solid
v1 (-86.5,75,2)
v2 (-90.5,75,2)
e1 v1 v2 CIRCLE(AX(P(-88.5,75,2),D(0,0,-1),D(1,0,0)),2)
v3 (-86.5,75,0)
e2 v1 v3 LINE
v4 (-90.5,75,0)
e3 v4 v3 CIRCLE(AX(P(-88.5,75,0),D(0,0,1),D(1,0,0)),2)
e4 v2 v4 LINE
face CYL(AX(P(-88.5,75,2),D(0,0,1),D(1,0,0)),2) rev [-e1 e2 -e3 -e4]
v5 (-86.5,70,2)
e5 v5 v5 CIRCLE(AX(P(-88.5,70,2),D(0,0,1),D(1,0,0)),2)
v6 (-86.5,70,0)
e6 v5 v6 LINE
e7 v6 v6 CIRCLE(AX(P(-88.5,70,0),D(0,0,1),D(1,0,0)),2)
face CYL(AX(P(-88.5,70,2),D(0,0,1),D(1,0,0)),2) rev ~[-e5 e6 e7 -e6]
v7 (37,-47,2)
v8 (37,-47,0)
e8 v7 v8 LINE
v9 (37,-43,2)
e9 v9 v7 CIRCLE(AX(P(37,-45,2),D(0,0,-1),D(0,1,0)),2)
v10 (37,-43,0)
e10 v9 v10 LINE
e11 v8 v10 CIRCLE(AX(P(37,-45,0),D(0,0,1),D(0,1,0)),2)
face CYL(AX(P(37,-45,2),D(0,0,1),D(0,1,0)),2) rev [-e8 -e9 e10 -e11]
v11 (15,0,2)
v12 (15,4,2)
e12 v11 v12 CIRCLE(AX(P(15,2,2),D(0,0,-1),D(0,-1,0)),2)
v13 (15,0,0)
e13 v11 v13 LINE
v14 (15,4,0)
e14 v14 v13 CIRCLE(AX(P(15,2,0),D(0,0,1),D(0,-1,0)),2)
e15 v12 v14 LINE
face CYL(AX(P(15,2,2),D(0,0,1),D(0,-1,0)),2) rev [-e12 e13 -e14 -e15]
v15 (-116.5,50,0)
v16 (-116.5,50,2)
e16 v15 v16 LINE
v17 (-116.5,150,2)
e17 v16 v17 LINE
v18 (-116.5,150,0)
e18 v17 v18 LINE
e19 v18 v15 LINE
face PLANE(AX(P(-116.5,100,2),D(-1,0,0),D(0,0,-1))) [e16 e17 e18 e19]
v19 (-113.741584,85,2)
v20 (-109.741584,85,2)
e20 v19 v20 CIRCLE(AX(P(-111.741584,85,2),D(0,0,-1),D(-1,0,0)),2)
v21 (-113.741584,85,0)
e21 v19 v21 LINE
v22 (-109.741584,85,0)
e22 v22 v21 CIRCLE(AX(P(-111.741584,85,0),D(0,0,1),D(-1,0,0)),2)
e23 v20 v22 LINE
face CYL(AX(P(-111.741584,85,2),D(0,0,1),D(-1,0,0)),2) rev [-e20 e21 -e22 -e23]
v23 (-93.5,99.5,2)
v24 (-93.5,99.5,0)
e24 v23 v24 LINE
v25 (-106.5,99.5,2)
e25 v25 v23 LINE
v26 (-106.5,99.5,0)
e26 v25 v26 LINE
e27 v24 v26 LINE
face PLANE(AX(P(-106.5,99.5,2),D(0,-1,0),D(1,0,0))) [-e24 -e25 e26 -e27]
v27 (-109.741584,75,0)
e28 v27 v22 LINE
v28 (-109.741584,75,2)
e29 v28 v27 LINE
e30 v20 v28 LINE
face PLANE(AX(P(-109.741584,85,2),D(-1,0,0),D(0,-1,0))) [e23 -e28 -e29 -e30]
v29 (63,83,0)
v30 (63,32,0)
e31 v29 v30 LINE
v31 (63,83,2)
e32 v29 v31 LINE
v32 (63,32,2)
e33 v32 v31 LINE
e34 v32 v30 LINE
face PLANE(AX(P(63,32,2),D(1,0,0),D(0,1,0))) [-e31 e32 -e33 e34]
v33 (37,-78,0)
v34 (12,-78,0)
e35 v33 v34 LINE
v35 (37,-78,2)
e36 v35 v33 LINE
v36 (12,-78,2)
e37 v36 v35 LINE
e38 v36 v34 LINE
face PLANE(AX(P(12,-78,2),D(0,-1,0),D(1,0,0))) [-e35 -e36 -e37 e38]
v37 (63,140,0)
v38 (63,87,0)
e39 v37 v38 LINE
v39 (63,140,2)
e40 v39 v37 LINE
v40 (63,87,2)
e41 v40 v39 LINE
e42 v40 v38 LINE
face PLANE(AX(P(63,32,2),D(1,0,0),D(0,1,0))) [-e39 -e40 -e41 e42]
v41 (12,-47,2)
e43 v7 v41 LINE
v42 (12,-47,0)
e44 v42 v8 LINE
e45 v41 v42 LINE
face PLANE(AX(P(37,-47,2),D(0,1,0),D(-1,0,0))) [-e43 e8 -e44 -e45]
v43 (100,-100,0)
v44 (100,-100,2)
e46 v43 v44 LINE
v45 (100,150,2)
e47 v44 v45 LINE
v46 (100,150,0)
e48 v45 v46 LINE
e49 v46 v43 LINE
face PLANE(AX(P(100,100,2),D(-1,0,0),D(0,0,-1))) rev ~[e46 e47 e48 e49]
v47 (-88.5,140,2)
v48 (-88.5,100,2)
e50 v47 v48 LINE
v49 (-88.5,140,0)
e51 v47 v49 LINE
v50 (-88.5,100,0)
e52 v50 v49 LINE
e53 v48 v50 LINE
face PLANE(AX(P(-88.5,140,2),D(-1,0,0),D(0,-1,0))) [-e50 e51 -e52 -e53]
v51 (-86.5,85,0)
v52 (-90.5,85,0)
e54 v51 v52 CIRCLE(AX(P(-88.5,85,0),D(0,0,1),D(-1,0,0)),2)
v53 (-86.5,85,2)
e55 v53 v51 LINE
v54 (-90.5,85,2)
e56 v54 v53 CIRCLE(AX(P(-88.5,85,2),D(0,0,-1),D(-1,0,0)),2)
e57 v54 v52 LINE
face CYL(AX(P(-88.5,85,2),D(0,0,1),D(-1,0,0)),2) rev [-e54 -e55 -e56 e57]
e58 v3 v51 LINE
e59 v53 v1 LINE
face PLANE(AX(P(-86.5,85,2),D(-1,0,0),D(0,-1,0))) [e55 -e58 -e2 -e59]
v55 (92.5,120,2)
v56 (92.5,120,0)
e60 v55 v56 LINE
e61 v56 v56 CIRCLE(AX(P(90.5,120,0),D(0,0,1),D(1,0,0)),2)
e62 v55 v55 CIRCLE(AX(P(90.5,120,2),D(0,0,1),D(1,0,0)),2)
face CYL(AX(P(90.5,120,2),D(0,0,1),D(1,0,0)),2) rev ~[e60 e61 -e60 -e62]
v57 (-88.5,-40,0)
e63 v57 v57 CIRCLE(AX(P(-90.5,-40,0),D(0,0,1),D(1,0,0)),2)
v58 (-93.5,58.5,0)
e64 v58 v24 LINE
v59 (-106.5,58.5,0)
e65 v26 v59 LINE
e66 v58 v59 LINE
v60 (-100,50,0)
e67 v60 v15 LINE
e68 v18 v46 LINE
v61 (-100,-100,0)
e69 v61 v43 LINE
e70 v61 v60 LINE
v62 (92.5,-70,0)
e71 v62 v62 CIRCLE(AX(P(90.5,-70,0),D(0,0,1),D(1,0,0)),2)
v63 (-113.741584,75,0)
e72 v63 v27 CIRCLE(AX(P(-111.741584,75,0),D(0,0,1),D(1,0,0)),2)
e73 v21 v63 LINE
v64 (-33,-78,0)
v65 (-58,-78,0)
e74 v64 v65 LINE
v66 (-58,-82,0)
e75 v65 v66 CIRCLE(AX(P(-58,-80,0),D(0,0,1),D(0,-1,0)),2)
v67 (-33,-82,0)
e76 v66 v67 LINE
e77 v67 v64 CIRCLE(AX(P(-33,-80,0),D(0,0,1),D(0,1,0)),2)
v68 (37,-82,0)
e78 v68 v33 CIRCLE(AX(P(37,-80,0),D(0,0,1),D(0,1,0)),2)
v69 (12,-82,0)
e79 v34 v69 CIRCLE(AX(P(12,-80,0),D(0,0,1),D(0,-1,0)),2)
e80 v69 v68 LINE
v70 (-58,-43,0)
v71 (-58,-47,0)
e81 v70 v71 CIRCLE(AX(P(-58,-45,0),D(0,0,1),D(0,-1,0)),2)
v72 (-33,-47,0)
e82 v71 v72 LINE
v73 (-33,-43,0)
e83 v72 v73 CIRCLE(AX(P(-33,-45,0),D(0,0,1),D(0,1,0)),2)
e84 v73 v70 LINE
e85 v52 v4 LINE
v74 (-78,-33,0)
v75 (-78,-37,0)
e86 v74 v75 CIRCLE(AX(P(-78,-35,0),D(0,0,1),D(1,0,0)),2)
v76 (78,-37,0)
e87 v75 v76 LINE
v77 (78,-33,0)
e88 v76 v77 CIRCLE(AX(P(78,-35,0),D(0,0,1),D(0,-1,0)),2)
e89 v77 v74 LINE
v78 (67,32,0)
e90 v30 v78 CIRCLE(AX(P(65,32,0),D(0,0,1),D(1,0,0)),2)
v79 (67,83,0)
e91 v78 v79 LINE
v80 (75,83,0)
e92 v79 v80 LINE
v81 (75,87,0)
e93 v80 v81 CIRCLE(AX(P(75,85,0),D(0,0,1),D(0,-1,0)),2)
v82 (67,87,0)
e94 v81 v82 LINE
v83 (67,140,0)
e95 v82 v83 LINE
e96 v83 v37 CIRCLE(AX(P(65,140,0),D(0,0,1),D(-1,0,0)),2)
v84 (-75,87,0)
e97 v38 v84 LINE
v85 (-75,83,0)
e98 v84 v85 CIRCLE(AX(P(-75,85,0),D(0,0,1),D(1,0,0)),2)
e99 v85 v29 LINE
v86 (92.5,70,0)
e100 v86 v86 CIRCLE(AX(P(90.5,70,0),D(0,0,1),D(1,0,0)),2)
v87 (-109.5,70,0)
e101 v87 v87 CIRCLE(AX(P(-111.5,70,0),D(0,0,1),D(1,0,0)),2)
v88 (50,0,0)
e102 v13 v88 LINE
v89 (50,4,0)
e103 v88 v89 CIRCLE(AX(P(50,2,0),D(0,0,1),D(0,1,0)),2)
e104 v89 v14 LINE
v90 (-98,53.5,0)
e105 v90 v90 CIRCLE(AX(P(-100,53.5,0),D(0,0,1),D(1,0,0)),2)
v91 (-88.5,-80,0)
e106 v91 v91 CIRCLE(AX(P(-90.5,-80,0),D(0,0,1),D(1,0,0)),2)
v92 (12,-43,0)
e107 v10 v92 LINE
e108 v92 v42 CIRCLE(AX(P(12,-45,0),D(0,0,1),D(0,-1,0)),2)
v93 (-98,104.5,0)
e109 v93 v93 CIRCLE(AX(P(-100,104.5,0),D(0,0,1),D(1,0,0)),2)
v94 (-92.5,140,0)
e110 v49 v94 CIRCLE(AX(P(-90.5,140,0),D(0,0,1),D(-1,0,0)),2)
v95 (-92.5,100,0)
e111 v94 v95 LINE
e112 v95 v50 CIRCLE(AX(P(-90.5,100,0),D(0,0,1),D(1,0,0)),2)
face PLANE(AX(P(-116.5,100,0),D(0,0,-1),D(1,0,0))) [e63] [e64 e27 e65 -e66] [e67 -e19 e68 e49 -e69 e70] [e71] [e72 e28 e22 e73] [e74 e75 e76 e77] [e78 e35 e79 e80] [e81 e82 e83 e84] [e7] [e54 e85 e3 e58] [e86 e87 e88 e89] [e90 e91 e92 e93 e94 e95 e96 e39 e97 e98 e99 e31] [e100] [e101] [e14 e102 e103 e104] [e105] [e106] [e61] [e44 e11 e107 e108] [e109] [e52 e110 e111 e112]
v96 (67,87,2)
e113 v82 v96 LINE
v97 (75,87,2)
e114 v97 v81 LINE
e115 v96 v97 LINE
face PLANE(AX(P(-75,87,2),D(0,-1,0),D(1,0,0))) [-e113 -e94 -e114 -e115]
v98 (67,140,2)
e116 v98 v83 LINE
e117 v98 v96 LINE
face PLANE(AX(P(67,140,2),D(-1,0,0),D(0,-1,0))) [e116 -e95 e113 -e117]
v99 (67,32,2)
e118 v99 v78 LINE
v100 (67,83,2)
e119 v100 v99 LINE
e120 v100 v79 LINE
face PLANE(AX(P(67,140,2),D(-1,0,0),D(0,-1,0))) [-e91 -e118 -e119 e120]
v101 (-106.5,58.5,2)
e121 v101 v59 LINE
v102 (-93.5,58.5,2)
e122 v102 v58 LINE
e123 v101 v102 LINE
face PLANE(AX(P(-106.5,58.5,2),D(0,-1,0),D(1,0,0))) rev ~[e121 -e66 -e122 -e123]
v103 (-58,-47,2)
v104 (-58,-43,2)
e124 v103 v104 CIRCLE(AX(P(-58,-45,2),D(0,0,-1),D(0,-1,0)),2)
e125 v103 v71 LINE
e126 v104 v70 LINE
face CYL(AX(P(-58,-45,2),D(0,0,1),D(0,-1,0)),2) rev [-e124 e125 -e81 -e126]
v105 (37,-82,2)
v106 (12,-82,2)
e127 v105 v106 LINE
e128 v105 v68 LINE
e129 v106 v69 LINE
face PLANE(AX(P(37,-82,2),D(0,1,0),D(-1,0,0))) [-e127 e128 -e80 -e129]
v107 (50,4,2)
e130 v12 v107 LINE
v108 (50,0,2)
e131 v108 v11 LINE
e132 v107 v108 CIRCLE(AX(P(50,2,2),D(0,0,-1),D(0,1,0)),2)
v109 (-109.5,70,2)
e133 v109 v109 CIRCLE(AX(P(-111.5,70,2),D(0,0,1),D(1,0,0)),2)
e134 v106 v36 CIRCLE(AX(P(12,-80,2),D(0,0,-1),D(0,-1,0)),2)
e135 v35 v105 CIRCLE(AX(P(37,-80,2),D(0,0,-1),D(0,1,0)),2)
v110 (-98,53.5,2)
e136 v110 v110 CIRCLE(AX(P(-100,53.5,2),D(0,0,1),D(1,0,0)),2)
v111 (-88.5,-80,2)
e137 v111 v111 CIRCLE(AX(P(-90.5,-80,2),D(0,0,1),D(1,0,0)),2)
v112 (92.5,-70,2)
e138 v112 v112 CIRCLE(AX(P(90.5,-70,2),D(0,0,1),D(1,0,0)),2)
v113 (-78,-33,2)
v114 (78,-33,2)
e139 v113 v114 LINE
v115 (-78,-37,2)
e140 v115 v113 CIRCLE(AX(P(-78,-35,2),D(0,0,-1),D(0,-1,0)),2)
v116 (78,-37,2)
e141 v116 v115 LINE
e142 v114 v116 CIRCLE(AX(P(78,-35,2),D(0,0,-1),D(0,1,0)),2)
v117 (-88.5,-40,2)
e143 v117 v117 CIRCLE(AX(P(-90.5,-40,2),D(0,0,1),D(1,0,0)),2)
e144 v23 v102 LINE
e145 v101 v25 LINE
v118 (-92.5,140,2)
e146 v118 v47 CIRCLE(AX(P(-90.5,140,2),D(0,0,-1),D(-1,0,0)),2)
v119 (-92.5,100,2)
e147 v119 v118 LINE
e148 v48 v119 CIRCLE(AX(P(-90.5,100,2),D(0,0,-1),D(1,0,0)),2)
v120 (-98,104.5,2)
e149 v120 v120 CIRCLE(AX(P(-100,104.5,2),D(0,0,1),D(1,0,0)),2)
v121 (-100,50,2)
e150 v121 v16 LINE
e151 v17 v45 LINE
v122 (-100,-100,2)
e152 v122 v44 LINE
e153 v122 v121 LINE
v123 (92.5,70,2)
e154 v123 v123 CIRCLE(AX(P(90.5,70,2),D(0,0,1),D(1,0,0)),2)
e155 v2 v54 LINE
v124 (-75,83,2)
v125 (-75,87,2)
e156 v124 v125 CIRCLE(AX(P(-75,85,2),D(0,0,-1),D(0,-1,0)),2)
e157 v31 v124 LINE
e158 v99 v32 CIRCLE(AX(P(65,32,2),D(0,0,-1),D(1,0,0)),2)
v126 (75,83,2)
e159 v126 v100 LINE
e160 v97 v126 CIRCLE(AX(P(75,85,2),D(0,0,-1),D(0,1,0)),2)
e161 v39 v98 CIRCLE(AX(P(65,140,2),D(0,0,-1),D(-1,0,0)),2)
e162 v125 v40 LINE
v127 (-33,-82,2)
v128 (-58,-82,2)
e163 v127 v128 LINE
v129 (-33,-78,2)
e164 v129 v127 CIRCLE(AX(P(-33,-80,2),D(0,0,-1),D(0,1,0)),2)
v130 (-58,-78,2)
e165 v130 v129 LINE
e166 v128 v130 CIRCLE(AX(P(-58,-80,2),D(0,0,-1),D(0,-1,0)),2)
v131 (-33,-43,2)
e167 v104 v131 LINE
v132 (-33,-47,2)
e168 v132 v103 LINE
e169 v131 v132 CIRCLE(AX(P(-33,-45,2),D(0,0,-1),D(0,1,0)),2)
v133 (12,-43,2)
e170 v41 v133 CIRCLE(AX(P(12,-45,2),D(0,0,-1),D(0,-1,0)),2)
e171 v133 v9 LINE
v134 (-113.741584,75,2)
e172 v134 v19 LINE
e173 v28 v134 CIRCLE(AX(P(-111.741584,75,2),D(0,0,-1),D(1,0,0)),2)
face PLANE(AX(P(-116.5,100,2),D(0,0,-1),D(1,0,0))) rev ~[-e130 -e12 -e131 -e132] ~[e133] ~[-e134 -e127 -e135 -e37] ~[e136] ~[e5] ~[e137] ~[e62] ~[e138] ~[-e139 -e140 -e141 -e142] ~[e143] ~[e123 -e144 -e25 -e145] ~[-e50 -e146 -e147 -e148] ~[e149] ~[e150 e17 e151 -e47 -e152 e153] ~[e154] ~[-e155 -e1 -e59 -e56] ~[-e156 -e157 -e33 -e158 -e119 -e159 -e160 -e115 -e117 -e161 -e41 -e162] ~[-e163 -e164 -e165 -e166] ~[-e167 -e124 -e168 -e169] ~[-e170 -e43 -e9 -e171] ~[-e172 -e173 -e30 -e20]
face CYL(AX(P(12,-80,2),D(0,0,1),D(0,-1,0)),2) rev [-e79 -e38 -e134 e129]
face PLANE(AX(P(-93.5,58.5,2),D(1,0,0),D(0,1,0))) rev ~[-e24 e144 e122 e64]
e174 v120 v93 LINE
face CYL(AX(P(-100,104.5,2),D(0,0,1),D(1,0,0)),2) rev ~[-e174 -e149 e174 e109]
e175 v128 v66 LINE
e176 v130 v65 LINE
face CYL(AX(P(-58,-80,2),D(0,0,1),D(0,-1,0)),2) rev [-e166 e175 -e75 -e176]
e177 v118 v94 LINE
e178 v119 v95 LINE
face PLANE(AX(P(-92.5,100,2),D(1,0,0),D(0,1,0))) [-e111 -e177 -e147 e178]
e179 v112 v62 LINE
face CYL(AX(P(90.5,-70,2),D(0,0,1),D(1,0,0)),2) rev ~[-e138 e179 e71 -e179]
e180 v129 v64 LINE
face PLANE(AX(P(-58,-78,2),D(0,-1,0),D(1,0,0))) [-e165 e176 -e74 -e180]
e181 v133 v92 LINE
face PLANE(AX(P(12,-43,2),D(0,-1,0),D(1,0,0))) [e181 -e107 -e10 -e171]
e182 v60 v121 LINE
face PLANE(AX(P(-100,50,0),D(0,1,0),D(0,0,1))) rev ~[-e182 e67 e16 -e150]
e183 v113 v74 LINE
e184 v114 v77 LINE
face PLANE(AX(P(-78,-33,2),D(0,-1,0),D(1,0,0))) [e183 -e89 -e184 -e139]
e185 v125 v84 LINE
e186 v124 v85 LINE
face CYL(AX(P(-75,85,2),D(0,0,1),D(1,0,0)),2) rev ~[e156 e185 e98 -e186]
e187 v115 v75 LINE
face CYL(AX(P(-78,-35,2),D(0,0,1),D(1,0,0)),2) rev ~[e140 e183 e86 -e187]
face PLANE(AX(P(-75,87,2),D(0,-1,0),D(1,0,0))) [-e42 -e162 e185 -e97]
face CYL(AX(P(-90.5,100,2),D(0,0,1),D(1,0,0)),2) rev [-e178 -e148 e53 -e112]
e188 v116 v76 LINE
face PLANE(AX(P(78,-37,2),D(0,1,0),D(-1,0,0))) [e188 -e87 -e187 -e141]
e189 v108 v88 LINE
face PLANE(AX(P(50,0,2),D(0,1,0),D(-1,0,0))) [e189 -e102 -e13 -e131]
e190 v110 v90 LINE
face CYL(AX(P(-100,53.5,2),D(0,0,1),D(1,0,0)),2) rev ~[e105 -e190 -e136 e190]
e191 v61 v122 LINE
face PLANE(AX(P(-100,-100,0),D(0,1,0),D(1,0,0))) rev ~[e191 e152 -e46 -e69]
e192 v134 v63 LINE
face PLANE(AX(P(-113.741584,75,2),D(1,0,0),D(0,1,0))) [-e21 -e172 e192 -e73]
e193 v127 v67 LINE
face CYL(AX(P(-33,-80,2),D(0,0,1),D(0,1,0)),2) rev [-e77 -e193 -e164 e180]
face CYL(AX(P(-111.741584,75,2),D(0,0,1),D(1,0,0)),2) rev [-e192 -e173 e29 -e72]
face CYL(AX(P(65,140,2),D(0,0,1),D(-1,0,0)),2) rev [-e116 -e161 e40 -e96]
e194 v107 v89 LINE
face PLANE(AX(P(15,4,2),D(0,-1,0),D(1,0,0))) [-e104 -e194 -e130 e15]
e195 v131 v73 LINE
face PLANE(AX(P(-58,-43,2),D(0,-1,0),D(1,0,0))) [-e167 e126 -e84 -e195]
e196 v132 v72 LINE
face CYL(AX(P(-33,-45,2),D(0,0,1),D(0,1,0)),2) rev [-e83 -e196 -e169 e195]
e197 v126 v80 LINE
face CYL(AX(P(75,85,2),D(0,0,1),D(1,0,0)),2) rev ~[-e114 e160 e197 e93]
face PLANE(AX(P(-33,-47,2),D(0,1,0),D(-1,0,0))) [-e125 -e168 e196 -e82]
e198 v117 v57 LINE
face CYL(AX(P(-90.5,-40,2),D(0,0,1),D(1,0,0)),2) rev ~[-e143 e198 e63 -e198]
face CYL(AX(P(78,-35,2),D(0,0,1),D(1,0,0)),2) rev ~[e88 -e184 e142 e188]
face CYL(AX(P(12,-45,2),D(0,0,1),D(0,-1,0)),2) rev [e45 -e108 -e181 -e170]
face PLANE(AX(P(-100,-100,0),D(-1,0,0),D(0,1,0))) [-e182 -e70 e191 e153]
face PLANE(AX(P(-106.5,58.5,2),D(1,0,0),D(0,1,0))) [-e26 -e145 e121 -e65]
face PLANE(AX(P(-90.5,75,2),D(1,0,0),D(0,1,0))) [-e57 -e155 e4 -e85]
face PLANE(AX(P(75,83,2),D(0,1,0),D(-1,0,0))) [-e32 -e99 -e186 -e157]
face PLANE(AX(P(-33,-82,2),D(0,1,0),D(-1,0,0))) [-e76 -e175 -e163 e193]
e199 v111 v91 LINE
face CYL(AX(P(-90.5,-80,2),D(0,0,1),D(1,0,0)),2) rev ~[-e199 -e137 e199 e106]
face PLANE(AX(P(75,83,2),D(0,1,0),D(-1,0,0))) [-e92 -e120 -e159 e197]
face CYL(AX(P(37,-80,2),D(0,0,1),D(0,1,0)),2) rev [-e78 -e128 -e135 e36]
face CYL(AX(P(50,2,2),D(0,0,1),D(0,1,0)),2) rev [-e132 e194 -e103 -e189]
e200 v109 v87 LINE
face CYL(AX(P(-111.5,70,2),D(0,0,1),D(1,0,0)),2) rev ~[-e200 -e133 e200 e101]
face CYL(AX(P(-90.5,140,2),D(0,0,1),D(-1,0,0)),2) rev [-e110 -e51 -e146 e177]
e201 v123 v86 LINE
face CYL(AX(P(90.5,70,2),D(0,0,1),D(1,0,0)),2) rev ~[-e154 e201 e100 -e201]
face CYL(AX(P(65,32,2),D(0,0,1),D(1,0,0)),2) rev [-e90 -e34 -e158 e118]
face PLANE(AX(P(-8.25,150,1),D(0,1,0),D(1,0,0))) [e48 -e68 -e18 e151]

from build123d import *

# Parameters (mm, degrees)
SKETCH1_W           = 200
SKETCH1_H           = 200
BOSS_EXTRUDE1_DEPTH = 2
SKETCH2_R           = 2
CUT_EXTRUDE1_DEPTH  = 13
SKETCH3_R           = 2
CUT_EXTRUDE2_DEPTH  = 142.435497666
SKETCH4_R           = 2
CUT_EXTRUDE3_DEPTH  = 13
SKETCH5_W           = 2
SKETCH5_H           = 50
BOSS_EXTRUDE2_DEPTH = 16.5
SKETCH6_R           = 2
SKETCH6_W           = 13
SKETCH6_H           = 15
CUT_EXTRUDE4_DEPTH  = 154.545595834
SKETCH7_R           = 2
CUT_EXTRUDE5_DEPTH  = 154.545595834
CUT_EXTRUDE6_DEPTH  = 10
SKETCH11_W          = 216.5
SKETCH11_H          = 2
BOSS_EXTRUDE3_DEPTH = 50
CUT_EXTRUDE8_DEPTH  = 10
CUT_EXTRUDE9_DEPTH  = 10
CUT_EXTRUDE10_DEPTH = 10
SKETCH17_R          = 2
CUT_EXTRUDE11_DEPTH = 10
SKETCH18_R          = 2
CUT_EXTRUDE12_DEPTH = 10
CUT_EXTRUDE13_DEPTH = 10
CUT_EXTRUDE14_DEPTH = 10
CUT_EXTRUDE15_DEPTH = 10
SKETCH22_R          = 2
CUT_EXTRUDE16_DEPTH = 10
SKETCH23_W          = 13
SKETCH23_H          = 26
CUT_EXTRUDE17_DEPTH = 10
CUT_EXTRUDE20_DEPTH = 10


with BuildPart() as part:
    # Sketch1 → Boss-Extrude1 (new body)
    with BuildSketch(Plane.XY):
        Rectangle(SKETCH1_W, SKETCH1_H)
    extrude(amount=BOSS_EXTRUDE1_DEPTH)

    # Sketch2 → Cut-Extrude1 (cut)
    with BuildSketch(Plane.XY.offset(2)):
        with Locations((90.5, 70)):
            Circle(SKETCH2_R)
        with Locations((90.5, -70)):
            Circle(SKETCH2_R)
    extrude(amount=-CUT_EXTRUDE1_DEPTH, mode=Mode.SUBTRACT)

    # Sketch3 → Cut-Extrude2 (cut, through all)
    with BuildSketch(Plane.XY.offset(2)):
        with Locations((-90.5, -40)):
            Circle(SKETCH3_R)
        with Locations((-90.5, -80)):
            Circle(SKETCH3_R)
    extrude(amount=-CUT_EXTRUDE2_DEPTH, mode=Mode.SUBTRACT)

    # Sketch4 → Cut-Extrude3 (cut)
    with BuildSketch(Plane.XY.offset(2)):
        with Locations((-50, -45)):
            Circle(SKETCH4_R)
        with Locations((-50, -80)):
            Circle(SKETCH4_R)
        with Locations((26.5, -45)):
            Circle(SKETCH4_R)
        with Locations((26.5, -80)):
            Circle(SKETCH4_R)
    extrude(amount=-CUT_EXTRUDE3_DEPTH, mode=Mode.SUBTRACT)

    # Sketch5 → Boss-Extrude2 (add)
    with BuildSketch(Plane.ZY.offset(100)):
        with Locations((1, 75)):
            Rectangle(SKETCH5_W, SKETCH5_H)
    extrude(amount=BOSS_EXTRUDE2_DEPTH)

    # Sketch6 → Cut-Extrude4 (cut, through all)
    with BuildSketch(Plane.XY.offset(2)):
        with Locations((-111.5, 70)):
            Circle(SKETCH6_R)
        with Locations((-88.5, 70)):
            Circle(SKETCH6_R)
        with Locations((-100, 66)):
            Rectangle(SKETCH6_W, SKETCH6_H)
    extrude(amount=-CUT_EXTRUDE4_DEPTH, mode=Mode.SUBTRACT)

    # Sketch7 → Cut-Extrude5 (cut, through all)
    with BuildSketch(Plane.XY.offset(2)):
        with Locations((75, 85)):
            Circle(SKETCH7_R)
        with Locations((78, -35)):
            Circle(SKETCH7_R)
        with Locations((-78, -35)):
            Circle(SKETCH7_R)
        with Locations((-75, 85)):
            Circle(SKETCH7_R)
    extrude(amount=-CUT_EXTRUDE5_DEPTH, mode=Mode.SUBTRACT)

    # Sketch8 → Cut-Extrude6 (cut)
    with BuildSketch(Plane.XY.offset(2)):
        with BuildLine():
            Line((67, 95), (67, 32))
            ThreePointArc((67, 32), (65, 30), (63, 32))
            Line((63, 32), (63, 95))
            ThreePointArc((63, 95), (65, 97), (67, 95))
        make_face()
    extrude(amount=-CUT_EXTRUDE6_DEPTH, mode=Mode.SUBTRACT)

    # Sketch11 → Boss-Extrude3 (add)
    with BuildSketch(Plane(origin=(0, 100, 0), x_dir=(1, 0, 0), z_dir=(0, 1, 0))):
        with Locations((-8.25, -1)):
            Rectangle(SKETCH11_W, SKETCH11_H)
    extrude(amount=BOSS_EXTRUDE3_DEPTH)

    # Sketch12 → Cut-Extrude8 (cut)
    with BuildSketch(Plane.XY.offset(2)):
        with BuildLine():
            Line((63, 90.479574642), (63, 140))
            ThreePointArc((63, 140), (65, 142), (67, 140))
            Line((67, 140), (67, 90.479574642))
            ThreePointArc((67, 90.479574642), (65, 88.479574642), (63, 90.479574642))
        make_face()
    extrude(amount=-CUT_EXTRUDE8_DEPTH, mode=Mode.SUBTRACT)

    # Sketch15 → Cut-Extrude9 (cut)
    with BuildSketch(Plane.XY.offset(2)):
        with BuildLine():
            Line((-78, -33), (78, -33))
            ThreePointArc((78, -33), (80, -35), (78, -37))
            Line((78, -37), (-78, -37))
            ThreePointArc((-78, -37), (-80, -35), (-78, -33))
        make_face()
    extrude(amount=-CUT_EXTRUDE9_DEPTH, mode=Mode.SUBTRACT)

    # Sketch16 → Cut-Extrude10 (cut)
    with BuildSketch(Plane.XY.offset(2)):
        with BuildLine():
            Line((-75, 87), (75, 87))
            ThreePointArc((75, 87), (77, 85), (75, 83))
            Line((75, 83), (-75, 83))
            ThreePointArc((-75, 83), (-77, 85), (-75, 87))
        make_face()
    extrude(amount=-CUT_EXTRUDE10_DEPTH, mode=Mode.SUBTRACT)

    # Sketch17 → Cut-Extrude11 (cut)
    with BuildSketch(Plane.XY.offset(2)):
        with Locations((90.5, 120)):
            Circle(SKETCH17_R)
    extrude(amount=-CUT_EXTRUDE11_DEPTH, mode=Mode.SUBTRACT)

    # Sketch18 → Cut-Extrude12 (cut)
    with BuildSketch(Plane.XY.offset(2)):
        with Locations((-90.5, 120)):
            Circle(SKETCH18_R)
    extrude(amount=-CUT_EXTRUDE12_DEPTH, mode=Mode.SUBTRACT)

    # Sketch19 → Cut-Extrude13 (cut)
    with BuildSketch(Plane.XY.offset(2)):
        with BuildLine():
            Line((15, 4), (50, 4))
            ThreePointArc((50, 4), (52, 2), (50, 0))
            Line((50, 0), (15, 0))
            ThreePointArc((15, 0), (13, 2), (15, 4))
        make_face()
    extrude(amount=-CUT_EXTRUDE13_DEPTH, mode=Mode.SUBTRACT)

    # Sketch20 → Cut-Extrude14 (cut)
    with BuildSketch(Plane.XY.offset(2)):
        with BuildLine():
            Line((-58, -43), (-33, -43))
            ThreePointArc((-33, -43), (-31, -45), (-33, -47))
            Line((-33, -47), (-58, -47))
            ThreePointArc((-58, -47), (-60, -45), (-58, -43))
        make_face()
        with BuildLine():
            Line((-58, -78), (-33, -78))
            ThreePointArc((-33, -78), (-31, -80), (-33, -82))
            Line((-33, -82), (-58, -82))
            ThreePointArc((-58, -82), (-60, -80), (-58, -78))
        make_face()
        with BuildLine():
            Line((12, -43), (37, -43))
            ThreePointArc((37, -43), (39, -45), (37, -47))
            Line((37, -47), (12, -47))
            ThreePointArc((12, -47), (10, -45), (12, -43))
        make_face()
        with BuildLine():
            Line((12, -78), (37, -78))
            ThreePointArc((37, -78), (39, -80), (37, -82))
            Line((37, -82), (12, -82))
            ThreePointArc((12, -82), (10, -80), (12, -78))
        make_face()
    extrude(amount=-CUT_EXTRUDE14_DEPTH, mode=Mode.SUBTRACT)

    # Sketch21 → Cut-Extrude15 (cut)
    with BuildSketch(Plane.XY.offset(2)):
        with BuildLine():
            Line((-88.5, 140), (-88.5, 100))
            ThreePointArc((-88.5, 100), (-90.5, 98), (-92.5, 100))
            Line((-92.5, 100), (-92.5, 140))
            ThreePointArc((-92.5, 140), (-90.5, 142), (-88.5, 140))
        make_face()
    extrude(amount=-CUT_EXTRUDE15_DEPTH, mode=Mode.SUBTRACT)

    # Sketch22 → Cut-Extrude16 (cut)
    with BuildSketch(Plane.XY.offset(2)):
        with Locations((-100, 53.5)):
            Circle(SKETCH22_R)
        with Locations((-100, 104.5)):
            Circle(SKETCH22_R)
    extrude(amount=-CUT_EXTRUDE16_DEPTH, mode=Mode.SUBTRACT)

    # Sketch23 → Cut-Extrude17 (cut)
    with BuildSketch(Plane.XY.offset(2)):
        with Locations((-100, 86.5)):
            Rectangle(SKETCH23_W, SKETCH23_H)
    extrude(amount=-CUT_EXTRUDE17_DEPTH, mode=Mode.SUBTRACT)

    # Sketch24 → Cut-Extrude20 (cut)
    with BuildSketch(Plane.XY.offset(2)):
        with BuildLine():
            Line((-90.5, 75), (-90.5, 85))
            ThreePointArc((-90.5, 85), (-88.5, 87), (-86.5, 85))
            Line((-86.5, 85), (-86.5, 75))
            ThreePointArc((-86.5, 75), (-88.5, 73), (-90.5, 75))
        make_face()
        with BuildLine():
            Line((-113.741584086, 75), (-113.741584086, 85))
            ThreePointArc((-113.741584086, 85), (-111.741584086, 87), (-109.741584086, 85))
            Line((-109.741584086, 85), (-109.741584086, 75))
            ThreePointArc((-109.741584086, 75), (-111.741584086, 73), (-113.741584086, 75))
        make_face()
    extrude(amount=-CUT_EXTRUDE20_DEPTH, mode=Mode.SUBTRACT)


solid = part.part
